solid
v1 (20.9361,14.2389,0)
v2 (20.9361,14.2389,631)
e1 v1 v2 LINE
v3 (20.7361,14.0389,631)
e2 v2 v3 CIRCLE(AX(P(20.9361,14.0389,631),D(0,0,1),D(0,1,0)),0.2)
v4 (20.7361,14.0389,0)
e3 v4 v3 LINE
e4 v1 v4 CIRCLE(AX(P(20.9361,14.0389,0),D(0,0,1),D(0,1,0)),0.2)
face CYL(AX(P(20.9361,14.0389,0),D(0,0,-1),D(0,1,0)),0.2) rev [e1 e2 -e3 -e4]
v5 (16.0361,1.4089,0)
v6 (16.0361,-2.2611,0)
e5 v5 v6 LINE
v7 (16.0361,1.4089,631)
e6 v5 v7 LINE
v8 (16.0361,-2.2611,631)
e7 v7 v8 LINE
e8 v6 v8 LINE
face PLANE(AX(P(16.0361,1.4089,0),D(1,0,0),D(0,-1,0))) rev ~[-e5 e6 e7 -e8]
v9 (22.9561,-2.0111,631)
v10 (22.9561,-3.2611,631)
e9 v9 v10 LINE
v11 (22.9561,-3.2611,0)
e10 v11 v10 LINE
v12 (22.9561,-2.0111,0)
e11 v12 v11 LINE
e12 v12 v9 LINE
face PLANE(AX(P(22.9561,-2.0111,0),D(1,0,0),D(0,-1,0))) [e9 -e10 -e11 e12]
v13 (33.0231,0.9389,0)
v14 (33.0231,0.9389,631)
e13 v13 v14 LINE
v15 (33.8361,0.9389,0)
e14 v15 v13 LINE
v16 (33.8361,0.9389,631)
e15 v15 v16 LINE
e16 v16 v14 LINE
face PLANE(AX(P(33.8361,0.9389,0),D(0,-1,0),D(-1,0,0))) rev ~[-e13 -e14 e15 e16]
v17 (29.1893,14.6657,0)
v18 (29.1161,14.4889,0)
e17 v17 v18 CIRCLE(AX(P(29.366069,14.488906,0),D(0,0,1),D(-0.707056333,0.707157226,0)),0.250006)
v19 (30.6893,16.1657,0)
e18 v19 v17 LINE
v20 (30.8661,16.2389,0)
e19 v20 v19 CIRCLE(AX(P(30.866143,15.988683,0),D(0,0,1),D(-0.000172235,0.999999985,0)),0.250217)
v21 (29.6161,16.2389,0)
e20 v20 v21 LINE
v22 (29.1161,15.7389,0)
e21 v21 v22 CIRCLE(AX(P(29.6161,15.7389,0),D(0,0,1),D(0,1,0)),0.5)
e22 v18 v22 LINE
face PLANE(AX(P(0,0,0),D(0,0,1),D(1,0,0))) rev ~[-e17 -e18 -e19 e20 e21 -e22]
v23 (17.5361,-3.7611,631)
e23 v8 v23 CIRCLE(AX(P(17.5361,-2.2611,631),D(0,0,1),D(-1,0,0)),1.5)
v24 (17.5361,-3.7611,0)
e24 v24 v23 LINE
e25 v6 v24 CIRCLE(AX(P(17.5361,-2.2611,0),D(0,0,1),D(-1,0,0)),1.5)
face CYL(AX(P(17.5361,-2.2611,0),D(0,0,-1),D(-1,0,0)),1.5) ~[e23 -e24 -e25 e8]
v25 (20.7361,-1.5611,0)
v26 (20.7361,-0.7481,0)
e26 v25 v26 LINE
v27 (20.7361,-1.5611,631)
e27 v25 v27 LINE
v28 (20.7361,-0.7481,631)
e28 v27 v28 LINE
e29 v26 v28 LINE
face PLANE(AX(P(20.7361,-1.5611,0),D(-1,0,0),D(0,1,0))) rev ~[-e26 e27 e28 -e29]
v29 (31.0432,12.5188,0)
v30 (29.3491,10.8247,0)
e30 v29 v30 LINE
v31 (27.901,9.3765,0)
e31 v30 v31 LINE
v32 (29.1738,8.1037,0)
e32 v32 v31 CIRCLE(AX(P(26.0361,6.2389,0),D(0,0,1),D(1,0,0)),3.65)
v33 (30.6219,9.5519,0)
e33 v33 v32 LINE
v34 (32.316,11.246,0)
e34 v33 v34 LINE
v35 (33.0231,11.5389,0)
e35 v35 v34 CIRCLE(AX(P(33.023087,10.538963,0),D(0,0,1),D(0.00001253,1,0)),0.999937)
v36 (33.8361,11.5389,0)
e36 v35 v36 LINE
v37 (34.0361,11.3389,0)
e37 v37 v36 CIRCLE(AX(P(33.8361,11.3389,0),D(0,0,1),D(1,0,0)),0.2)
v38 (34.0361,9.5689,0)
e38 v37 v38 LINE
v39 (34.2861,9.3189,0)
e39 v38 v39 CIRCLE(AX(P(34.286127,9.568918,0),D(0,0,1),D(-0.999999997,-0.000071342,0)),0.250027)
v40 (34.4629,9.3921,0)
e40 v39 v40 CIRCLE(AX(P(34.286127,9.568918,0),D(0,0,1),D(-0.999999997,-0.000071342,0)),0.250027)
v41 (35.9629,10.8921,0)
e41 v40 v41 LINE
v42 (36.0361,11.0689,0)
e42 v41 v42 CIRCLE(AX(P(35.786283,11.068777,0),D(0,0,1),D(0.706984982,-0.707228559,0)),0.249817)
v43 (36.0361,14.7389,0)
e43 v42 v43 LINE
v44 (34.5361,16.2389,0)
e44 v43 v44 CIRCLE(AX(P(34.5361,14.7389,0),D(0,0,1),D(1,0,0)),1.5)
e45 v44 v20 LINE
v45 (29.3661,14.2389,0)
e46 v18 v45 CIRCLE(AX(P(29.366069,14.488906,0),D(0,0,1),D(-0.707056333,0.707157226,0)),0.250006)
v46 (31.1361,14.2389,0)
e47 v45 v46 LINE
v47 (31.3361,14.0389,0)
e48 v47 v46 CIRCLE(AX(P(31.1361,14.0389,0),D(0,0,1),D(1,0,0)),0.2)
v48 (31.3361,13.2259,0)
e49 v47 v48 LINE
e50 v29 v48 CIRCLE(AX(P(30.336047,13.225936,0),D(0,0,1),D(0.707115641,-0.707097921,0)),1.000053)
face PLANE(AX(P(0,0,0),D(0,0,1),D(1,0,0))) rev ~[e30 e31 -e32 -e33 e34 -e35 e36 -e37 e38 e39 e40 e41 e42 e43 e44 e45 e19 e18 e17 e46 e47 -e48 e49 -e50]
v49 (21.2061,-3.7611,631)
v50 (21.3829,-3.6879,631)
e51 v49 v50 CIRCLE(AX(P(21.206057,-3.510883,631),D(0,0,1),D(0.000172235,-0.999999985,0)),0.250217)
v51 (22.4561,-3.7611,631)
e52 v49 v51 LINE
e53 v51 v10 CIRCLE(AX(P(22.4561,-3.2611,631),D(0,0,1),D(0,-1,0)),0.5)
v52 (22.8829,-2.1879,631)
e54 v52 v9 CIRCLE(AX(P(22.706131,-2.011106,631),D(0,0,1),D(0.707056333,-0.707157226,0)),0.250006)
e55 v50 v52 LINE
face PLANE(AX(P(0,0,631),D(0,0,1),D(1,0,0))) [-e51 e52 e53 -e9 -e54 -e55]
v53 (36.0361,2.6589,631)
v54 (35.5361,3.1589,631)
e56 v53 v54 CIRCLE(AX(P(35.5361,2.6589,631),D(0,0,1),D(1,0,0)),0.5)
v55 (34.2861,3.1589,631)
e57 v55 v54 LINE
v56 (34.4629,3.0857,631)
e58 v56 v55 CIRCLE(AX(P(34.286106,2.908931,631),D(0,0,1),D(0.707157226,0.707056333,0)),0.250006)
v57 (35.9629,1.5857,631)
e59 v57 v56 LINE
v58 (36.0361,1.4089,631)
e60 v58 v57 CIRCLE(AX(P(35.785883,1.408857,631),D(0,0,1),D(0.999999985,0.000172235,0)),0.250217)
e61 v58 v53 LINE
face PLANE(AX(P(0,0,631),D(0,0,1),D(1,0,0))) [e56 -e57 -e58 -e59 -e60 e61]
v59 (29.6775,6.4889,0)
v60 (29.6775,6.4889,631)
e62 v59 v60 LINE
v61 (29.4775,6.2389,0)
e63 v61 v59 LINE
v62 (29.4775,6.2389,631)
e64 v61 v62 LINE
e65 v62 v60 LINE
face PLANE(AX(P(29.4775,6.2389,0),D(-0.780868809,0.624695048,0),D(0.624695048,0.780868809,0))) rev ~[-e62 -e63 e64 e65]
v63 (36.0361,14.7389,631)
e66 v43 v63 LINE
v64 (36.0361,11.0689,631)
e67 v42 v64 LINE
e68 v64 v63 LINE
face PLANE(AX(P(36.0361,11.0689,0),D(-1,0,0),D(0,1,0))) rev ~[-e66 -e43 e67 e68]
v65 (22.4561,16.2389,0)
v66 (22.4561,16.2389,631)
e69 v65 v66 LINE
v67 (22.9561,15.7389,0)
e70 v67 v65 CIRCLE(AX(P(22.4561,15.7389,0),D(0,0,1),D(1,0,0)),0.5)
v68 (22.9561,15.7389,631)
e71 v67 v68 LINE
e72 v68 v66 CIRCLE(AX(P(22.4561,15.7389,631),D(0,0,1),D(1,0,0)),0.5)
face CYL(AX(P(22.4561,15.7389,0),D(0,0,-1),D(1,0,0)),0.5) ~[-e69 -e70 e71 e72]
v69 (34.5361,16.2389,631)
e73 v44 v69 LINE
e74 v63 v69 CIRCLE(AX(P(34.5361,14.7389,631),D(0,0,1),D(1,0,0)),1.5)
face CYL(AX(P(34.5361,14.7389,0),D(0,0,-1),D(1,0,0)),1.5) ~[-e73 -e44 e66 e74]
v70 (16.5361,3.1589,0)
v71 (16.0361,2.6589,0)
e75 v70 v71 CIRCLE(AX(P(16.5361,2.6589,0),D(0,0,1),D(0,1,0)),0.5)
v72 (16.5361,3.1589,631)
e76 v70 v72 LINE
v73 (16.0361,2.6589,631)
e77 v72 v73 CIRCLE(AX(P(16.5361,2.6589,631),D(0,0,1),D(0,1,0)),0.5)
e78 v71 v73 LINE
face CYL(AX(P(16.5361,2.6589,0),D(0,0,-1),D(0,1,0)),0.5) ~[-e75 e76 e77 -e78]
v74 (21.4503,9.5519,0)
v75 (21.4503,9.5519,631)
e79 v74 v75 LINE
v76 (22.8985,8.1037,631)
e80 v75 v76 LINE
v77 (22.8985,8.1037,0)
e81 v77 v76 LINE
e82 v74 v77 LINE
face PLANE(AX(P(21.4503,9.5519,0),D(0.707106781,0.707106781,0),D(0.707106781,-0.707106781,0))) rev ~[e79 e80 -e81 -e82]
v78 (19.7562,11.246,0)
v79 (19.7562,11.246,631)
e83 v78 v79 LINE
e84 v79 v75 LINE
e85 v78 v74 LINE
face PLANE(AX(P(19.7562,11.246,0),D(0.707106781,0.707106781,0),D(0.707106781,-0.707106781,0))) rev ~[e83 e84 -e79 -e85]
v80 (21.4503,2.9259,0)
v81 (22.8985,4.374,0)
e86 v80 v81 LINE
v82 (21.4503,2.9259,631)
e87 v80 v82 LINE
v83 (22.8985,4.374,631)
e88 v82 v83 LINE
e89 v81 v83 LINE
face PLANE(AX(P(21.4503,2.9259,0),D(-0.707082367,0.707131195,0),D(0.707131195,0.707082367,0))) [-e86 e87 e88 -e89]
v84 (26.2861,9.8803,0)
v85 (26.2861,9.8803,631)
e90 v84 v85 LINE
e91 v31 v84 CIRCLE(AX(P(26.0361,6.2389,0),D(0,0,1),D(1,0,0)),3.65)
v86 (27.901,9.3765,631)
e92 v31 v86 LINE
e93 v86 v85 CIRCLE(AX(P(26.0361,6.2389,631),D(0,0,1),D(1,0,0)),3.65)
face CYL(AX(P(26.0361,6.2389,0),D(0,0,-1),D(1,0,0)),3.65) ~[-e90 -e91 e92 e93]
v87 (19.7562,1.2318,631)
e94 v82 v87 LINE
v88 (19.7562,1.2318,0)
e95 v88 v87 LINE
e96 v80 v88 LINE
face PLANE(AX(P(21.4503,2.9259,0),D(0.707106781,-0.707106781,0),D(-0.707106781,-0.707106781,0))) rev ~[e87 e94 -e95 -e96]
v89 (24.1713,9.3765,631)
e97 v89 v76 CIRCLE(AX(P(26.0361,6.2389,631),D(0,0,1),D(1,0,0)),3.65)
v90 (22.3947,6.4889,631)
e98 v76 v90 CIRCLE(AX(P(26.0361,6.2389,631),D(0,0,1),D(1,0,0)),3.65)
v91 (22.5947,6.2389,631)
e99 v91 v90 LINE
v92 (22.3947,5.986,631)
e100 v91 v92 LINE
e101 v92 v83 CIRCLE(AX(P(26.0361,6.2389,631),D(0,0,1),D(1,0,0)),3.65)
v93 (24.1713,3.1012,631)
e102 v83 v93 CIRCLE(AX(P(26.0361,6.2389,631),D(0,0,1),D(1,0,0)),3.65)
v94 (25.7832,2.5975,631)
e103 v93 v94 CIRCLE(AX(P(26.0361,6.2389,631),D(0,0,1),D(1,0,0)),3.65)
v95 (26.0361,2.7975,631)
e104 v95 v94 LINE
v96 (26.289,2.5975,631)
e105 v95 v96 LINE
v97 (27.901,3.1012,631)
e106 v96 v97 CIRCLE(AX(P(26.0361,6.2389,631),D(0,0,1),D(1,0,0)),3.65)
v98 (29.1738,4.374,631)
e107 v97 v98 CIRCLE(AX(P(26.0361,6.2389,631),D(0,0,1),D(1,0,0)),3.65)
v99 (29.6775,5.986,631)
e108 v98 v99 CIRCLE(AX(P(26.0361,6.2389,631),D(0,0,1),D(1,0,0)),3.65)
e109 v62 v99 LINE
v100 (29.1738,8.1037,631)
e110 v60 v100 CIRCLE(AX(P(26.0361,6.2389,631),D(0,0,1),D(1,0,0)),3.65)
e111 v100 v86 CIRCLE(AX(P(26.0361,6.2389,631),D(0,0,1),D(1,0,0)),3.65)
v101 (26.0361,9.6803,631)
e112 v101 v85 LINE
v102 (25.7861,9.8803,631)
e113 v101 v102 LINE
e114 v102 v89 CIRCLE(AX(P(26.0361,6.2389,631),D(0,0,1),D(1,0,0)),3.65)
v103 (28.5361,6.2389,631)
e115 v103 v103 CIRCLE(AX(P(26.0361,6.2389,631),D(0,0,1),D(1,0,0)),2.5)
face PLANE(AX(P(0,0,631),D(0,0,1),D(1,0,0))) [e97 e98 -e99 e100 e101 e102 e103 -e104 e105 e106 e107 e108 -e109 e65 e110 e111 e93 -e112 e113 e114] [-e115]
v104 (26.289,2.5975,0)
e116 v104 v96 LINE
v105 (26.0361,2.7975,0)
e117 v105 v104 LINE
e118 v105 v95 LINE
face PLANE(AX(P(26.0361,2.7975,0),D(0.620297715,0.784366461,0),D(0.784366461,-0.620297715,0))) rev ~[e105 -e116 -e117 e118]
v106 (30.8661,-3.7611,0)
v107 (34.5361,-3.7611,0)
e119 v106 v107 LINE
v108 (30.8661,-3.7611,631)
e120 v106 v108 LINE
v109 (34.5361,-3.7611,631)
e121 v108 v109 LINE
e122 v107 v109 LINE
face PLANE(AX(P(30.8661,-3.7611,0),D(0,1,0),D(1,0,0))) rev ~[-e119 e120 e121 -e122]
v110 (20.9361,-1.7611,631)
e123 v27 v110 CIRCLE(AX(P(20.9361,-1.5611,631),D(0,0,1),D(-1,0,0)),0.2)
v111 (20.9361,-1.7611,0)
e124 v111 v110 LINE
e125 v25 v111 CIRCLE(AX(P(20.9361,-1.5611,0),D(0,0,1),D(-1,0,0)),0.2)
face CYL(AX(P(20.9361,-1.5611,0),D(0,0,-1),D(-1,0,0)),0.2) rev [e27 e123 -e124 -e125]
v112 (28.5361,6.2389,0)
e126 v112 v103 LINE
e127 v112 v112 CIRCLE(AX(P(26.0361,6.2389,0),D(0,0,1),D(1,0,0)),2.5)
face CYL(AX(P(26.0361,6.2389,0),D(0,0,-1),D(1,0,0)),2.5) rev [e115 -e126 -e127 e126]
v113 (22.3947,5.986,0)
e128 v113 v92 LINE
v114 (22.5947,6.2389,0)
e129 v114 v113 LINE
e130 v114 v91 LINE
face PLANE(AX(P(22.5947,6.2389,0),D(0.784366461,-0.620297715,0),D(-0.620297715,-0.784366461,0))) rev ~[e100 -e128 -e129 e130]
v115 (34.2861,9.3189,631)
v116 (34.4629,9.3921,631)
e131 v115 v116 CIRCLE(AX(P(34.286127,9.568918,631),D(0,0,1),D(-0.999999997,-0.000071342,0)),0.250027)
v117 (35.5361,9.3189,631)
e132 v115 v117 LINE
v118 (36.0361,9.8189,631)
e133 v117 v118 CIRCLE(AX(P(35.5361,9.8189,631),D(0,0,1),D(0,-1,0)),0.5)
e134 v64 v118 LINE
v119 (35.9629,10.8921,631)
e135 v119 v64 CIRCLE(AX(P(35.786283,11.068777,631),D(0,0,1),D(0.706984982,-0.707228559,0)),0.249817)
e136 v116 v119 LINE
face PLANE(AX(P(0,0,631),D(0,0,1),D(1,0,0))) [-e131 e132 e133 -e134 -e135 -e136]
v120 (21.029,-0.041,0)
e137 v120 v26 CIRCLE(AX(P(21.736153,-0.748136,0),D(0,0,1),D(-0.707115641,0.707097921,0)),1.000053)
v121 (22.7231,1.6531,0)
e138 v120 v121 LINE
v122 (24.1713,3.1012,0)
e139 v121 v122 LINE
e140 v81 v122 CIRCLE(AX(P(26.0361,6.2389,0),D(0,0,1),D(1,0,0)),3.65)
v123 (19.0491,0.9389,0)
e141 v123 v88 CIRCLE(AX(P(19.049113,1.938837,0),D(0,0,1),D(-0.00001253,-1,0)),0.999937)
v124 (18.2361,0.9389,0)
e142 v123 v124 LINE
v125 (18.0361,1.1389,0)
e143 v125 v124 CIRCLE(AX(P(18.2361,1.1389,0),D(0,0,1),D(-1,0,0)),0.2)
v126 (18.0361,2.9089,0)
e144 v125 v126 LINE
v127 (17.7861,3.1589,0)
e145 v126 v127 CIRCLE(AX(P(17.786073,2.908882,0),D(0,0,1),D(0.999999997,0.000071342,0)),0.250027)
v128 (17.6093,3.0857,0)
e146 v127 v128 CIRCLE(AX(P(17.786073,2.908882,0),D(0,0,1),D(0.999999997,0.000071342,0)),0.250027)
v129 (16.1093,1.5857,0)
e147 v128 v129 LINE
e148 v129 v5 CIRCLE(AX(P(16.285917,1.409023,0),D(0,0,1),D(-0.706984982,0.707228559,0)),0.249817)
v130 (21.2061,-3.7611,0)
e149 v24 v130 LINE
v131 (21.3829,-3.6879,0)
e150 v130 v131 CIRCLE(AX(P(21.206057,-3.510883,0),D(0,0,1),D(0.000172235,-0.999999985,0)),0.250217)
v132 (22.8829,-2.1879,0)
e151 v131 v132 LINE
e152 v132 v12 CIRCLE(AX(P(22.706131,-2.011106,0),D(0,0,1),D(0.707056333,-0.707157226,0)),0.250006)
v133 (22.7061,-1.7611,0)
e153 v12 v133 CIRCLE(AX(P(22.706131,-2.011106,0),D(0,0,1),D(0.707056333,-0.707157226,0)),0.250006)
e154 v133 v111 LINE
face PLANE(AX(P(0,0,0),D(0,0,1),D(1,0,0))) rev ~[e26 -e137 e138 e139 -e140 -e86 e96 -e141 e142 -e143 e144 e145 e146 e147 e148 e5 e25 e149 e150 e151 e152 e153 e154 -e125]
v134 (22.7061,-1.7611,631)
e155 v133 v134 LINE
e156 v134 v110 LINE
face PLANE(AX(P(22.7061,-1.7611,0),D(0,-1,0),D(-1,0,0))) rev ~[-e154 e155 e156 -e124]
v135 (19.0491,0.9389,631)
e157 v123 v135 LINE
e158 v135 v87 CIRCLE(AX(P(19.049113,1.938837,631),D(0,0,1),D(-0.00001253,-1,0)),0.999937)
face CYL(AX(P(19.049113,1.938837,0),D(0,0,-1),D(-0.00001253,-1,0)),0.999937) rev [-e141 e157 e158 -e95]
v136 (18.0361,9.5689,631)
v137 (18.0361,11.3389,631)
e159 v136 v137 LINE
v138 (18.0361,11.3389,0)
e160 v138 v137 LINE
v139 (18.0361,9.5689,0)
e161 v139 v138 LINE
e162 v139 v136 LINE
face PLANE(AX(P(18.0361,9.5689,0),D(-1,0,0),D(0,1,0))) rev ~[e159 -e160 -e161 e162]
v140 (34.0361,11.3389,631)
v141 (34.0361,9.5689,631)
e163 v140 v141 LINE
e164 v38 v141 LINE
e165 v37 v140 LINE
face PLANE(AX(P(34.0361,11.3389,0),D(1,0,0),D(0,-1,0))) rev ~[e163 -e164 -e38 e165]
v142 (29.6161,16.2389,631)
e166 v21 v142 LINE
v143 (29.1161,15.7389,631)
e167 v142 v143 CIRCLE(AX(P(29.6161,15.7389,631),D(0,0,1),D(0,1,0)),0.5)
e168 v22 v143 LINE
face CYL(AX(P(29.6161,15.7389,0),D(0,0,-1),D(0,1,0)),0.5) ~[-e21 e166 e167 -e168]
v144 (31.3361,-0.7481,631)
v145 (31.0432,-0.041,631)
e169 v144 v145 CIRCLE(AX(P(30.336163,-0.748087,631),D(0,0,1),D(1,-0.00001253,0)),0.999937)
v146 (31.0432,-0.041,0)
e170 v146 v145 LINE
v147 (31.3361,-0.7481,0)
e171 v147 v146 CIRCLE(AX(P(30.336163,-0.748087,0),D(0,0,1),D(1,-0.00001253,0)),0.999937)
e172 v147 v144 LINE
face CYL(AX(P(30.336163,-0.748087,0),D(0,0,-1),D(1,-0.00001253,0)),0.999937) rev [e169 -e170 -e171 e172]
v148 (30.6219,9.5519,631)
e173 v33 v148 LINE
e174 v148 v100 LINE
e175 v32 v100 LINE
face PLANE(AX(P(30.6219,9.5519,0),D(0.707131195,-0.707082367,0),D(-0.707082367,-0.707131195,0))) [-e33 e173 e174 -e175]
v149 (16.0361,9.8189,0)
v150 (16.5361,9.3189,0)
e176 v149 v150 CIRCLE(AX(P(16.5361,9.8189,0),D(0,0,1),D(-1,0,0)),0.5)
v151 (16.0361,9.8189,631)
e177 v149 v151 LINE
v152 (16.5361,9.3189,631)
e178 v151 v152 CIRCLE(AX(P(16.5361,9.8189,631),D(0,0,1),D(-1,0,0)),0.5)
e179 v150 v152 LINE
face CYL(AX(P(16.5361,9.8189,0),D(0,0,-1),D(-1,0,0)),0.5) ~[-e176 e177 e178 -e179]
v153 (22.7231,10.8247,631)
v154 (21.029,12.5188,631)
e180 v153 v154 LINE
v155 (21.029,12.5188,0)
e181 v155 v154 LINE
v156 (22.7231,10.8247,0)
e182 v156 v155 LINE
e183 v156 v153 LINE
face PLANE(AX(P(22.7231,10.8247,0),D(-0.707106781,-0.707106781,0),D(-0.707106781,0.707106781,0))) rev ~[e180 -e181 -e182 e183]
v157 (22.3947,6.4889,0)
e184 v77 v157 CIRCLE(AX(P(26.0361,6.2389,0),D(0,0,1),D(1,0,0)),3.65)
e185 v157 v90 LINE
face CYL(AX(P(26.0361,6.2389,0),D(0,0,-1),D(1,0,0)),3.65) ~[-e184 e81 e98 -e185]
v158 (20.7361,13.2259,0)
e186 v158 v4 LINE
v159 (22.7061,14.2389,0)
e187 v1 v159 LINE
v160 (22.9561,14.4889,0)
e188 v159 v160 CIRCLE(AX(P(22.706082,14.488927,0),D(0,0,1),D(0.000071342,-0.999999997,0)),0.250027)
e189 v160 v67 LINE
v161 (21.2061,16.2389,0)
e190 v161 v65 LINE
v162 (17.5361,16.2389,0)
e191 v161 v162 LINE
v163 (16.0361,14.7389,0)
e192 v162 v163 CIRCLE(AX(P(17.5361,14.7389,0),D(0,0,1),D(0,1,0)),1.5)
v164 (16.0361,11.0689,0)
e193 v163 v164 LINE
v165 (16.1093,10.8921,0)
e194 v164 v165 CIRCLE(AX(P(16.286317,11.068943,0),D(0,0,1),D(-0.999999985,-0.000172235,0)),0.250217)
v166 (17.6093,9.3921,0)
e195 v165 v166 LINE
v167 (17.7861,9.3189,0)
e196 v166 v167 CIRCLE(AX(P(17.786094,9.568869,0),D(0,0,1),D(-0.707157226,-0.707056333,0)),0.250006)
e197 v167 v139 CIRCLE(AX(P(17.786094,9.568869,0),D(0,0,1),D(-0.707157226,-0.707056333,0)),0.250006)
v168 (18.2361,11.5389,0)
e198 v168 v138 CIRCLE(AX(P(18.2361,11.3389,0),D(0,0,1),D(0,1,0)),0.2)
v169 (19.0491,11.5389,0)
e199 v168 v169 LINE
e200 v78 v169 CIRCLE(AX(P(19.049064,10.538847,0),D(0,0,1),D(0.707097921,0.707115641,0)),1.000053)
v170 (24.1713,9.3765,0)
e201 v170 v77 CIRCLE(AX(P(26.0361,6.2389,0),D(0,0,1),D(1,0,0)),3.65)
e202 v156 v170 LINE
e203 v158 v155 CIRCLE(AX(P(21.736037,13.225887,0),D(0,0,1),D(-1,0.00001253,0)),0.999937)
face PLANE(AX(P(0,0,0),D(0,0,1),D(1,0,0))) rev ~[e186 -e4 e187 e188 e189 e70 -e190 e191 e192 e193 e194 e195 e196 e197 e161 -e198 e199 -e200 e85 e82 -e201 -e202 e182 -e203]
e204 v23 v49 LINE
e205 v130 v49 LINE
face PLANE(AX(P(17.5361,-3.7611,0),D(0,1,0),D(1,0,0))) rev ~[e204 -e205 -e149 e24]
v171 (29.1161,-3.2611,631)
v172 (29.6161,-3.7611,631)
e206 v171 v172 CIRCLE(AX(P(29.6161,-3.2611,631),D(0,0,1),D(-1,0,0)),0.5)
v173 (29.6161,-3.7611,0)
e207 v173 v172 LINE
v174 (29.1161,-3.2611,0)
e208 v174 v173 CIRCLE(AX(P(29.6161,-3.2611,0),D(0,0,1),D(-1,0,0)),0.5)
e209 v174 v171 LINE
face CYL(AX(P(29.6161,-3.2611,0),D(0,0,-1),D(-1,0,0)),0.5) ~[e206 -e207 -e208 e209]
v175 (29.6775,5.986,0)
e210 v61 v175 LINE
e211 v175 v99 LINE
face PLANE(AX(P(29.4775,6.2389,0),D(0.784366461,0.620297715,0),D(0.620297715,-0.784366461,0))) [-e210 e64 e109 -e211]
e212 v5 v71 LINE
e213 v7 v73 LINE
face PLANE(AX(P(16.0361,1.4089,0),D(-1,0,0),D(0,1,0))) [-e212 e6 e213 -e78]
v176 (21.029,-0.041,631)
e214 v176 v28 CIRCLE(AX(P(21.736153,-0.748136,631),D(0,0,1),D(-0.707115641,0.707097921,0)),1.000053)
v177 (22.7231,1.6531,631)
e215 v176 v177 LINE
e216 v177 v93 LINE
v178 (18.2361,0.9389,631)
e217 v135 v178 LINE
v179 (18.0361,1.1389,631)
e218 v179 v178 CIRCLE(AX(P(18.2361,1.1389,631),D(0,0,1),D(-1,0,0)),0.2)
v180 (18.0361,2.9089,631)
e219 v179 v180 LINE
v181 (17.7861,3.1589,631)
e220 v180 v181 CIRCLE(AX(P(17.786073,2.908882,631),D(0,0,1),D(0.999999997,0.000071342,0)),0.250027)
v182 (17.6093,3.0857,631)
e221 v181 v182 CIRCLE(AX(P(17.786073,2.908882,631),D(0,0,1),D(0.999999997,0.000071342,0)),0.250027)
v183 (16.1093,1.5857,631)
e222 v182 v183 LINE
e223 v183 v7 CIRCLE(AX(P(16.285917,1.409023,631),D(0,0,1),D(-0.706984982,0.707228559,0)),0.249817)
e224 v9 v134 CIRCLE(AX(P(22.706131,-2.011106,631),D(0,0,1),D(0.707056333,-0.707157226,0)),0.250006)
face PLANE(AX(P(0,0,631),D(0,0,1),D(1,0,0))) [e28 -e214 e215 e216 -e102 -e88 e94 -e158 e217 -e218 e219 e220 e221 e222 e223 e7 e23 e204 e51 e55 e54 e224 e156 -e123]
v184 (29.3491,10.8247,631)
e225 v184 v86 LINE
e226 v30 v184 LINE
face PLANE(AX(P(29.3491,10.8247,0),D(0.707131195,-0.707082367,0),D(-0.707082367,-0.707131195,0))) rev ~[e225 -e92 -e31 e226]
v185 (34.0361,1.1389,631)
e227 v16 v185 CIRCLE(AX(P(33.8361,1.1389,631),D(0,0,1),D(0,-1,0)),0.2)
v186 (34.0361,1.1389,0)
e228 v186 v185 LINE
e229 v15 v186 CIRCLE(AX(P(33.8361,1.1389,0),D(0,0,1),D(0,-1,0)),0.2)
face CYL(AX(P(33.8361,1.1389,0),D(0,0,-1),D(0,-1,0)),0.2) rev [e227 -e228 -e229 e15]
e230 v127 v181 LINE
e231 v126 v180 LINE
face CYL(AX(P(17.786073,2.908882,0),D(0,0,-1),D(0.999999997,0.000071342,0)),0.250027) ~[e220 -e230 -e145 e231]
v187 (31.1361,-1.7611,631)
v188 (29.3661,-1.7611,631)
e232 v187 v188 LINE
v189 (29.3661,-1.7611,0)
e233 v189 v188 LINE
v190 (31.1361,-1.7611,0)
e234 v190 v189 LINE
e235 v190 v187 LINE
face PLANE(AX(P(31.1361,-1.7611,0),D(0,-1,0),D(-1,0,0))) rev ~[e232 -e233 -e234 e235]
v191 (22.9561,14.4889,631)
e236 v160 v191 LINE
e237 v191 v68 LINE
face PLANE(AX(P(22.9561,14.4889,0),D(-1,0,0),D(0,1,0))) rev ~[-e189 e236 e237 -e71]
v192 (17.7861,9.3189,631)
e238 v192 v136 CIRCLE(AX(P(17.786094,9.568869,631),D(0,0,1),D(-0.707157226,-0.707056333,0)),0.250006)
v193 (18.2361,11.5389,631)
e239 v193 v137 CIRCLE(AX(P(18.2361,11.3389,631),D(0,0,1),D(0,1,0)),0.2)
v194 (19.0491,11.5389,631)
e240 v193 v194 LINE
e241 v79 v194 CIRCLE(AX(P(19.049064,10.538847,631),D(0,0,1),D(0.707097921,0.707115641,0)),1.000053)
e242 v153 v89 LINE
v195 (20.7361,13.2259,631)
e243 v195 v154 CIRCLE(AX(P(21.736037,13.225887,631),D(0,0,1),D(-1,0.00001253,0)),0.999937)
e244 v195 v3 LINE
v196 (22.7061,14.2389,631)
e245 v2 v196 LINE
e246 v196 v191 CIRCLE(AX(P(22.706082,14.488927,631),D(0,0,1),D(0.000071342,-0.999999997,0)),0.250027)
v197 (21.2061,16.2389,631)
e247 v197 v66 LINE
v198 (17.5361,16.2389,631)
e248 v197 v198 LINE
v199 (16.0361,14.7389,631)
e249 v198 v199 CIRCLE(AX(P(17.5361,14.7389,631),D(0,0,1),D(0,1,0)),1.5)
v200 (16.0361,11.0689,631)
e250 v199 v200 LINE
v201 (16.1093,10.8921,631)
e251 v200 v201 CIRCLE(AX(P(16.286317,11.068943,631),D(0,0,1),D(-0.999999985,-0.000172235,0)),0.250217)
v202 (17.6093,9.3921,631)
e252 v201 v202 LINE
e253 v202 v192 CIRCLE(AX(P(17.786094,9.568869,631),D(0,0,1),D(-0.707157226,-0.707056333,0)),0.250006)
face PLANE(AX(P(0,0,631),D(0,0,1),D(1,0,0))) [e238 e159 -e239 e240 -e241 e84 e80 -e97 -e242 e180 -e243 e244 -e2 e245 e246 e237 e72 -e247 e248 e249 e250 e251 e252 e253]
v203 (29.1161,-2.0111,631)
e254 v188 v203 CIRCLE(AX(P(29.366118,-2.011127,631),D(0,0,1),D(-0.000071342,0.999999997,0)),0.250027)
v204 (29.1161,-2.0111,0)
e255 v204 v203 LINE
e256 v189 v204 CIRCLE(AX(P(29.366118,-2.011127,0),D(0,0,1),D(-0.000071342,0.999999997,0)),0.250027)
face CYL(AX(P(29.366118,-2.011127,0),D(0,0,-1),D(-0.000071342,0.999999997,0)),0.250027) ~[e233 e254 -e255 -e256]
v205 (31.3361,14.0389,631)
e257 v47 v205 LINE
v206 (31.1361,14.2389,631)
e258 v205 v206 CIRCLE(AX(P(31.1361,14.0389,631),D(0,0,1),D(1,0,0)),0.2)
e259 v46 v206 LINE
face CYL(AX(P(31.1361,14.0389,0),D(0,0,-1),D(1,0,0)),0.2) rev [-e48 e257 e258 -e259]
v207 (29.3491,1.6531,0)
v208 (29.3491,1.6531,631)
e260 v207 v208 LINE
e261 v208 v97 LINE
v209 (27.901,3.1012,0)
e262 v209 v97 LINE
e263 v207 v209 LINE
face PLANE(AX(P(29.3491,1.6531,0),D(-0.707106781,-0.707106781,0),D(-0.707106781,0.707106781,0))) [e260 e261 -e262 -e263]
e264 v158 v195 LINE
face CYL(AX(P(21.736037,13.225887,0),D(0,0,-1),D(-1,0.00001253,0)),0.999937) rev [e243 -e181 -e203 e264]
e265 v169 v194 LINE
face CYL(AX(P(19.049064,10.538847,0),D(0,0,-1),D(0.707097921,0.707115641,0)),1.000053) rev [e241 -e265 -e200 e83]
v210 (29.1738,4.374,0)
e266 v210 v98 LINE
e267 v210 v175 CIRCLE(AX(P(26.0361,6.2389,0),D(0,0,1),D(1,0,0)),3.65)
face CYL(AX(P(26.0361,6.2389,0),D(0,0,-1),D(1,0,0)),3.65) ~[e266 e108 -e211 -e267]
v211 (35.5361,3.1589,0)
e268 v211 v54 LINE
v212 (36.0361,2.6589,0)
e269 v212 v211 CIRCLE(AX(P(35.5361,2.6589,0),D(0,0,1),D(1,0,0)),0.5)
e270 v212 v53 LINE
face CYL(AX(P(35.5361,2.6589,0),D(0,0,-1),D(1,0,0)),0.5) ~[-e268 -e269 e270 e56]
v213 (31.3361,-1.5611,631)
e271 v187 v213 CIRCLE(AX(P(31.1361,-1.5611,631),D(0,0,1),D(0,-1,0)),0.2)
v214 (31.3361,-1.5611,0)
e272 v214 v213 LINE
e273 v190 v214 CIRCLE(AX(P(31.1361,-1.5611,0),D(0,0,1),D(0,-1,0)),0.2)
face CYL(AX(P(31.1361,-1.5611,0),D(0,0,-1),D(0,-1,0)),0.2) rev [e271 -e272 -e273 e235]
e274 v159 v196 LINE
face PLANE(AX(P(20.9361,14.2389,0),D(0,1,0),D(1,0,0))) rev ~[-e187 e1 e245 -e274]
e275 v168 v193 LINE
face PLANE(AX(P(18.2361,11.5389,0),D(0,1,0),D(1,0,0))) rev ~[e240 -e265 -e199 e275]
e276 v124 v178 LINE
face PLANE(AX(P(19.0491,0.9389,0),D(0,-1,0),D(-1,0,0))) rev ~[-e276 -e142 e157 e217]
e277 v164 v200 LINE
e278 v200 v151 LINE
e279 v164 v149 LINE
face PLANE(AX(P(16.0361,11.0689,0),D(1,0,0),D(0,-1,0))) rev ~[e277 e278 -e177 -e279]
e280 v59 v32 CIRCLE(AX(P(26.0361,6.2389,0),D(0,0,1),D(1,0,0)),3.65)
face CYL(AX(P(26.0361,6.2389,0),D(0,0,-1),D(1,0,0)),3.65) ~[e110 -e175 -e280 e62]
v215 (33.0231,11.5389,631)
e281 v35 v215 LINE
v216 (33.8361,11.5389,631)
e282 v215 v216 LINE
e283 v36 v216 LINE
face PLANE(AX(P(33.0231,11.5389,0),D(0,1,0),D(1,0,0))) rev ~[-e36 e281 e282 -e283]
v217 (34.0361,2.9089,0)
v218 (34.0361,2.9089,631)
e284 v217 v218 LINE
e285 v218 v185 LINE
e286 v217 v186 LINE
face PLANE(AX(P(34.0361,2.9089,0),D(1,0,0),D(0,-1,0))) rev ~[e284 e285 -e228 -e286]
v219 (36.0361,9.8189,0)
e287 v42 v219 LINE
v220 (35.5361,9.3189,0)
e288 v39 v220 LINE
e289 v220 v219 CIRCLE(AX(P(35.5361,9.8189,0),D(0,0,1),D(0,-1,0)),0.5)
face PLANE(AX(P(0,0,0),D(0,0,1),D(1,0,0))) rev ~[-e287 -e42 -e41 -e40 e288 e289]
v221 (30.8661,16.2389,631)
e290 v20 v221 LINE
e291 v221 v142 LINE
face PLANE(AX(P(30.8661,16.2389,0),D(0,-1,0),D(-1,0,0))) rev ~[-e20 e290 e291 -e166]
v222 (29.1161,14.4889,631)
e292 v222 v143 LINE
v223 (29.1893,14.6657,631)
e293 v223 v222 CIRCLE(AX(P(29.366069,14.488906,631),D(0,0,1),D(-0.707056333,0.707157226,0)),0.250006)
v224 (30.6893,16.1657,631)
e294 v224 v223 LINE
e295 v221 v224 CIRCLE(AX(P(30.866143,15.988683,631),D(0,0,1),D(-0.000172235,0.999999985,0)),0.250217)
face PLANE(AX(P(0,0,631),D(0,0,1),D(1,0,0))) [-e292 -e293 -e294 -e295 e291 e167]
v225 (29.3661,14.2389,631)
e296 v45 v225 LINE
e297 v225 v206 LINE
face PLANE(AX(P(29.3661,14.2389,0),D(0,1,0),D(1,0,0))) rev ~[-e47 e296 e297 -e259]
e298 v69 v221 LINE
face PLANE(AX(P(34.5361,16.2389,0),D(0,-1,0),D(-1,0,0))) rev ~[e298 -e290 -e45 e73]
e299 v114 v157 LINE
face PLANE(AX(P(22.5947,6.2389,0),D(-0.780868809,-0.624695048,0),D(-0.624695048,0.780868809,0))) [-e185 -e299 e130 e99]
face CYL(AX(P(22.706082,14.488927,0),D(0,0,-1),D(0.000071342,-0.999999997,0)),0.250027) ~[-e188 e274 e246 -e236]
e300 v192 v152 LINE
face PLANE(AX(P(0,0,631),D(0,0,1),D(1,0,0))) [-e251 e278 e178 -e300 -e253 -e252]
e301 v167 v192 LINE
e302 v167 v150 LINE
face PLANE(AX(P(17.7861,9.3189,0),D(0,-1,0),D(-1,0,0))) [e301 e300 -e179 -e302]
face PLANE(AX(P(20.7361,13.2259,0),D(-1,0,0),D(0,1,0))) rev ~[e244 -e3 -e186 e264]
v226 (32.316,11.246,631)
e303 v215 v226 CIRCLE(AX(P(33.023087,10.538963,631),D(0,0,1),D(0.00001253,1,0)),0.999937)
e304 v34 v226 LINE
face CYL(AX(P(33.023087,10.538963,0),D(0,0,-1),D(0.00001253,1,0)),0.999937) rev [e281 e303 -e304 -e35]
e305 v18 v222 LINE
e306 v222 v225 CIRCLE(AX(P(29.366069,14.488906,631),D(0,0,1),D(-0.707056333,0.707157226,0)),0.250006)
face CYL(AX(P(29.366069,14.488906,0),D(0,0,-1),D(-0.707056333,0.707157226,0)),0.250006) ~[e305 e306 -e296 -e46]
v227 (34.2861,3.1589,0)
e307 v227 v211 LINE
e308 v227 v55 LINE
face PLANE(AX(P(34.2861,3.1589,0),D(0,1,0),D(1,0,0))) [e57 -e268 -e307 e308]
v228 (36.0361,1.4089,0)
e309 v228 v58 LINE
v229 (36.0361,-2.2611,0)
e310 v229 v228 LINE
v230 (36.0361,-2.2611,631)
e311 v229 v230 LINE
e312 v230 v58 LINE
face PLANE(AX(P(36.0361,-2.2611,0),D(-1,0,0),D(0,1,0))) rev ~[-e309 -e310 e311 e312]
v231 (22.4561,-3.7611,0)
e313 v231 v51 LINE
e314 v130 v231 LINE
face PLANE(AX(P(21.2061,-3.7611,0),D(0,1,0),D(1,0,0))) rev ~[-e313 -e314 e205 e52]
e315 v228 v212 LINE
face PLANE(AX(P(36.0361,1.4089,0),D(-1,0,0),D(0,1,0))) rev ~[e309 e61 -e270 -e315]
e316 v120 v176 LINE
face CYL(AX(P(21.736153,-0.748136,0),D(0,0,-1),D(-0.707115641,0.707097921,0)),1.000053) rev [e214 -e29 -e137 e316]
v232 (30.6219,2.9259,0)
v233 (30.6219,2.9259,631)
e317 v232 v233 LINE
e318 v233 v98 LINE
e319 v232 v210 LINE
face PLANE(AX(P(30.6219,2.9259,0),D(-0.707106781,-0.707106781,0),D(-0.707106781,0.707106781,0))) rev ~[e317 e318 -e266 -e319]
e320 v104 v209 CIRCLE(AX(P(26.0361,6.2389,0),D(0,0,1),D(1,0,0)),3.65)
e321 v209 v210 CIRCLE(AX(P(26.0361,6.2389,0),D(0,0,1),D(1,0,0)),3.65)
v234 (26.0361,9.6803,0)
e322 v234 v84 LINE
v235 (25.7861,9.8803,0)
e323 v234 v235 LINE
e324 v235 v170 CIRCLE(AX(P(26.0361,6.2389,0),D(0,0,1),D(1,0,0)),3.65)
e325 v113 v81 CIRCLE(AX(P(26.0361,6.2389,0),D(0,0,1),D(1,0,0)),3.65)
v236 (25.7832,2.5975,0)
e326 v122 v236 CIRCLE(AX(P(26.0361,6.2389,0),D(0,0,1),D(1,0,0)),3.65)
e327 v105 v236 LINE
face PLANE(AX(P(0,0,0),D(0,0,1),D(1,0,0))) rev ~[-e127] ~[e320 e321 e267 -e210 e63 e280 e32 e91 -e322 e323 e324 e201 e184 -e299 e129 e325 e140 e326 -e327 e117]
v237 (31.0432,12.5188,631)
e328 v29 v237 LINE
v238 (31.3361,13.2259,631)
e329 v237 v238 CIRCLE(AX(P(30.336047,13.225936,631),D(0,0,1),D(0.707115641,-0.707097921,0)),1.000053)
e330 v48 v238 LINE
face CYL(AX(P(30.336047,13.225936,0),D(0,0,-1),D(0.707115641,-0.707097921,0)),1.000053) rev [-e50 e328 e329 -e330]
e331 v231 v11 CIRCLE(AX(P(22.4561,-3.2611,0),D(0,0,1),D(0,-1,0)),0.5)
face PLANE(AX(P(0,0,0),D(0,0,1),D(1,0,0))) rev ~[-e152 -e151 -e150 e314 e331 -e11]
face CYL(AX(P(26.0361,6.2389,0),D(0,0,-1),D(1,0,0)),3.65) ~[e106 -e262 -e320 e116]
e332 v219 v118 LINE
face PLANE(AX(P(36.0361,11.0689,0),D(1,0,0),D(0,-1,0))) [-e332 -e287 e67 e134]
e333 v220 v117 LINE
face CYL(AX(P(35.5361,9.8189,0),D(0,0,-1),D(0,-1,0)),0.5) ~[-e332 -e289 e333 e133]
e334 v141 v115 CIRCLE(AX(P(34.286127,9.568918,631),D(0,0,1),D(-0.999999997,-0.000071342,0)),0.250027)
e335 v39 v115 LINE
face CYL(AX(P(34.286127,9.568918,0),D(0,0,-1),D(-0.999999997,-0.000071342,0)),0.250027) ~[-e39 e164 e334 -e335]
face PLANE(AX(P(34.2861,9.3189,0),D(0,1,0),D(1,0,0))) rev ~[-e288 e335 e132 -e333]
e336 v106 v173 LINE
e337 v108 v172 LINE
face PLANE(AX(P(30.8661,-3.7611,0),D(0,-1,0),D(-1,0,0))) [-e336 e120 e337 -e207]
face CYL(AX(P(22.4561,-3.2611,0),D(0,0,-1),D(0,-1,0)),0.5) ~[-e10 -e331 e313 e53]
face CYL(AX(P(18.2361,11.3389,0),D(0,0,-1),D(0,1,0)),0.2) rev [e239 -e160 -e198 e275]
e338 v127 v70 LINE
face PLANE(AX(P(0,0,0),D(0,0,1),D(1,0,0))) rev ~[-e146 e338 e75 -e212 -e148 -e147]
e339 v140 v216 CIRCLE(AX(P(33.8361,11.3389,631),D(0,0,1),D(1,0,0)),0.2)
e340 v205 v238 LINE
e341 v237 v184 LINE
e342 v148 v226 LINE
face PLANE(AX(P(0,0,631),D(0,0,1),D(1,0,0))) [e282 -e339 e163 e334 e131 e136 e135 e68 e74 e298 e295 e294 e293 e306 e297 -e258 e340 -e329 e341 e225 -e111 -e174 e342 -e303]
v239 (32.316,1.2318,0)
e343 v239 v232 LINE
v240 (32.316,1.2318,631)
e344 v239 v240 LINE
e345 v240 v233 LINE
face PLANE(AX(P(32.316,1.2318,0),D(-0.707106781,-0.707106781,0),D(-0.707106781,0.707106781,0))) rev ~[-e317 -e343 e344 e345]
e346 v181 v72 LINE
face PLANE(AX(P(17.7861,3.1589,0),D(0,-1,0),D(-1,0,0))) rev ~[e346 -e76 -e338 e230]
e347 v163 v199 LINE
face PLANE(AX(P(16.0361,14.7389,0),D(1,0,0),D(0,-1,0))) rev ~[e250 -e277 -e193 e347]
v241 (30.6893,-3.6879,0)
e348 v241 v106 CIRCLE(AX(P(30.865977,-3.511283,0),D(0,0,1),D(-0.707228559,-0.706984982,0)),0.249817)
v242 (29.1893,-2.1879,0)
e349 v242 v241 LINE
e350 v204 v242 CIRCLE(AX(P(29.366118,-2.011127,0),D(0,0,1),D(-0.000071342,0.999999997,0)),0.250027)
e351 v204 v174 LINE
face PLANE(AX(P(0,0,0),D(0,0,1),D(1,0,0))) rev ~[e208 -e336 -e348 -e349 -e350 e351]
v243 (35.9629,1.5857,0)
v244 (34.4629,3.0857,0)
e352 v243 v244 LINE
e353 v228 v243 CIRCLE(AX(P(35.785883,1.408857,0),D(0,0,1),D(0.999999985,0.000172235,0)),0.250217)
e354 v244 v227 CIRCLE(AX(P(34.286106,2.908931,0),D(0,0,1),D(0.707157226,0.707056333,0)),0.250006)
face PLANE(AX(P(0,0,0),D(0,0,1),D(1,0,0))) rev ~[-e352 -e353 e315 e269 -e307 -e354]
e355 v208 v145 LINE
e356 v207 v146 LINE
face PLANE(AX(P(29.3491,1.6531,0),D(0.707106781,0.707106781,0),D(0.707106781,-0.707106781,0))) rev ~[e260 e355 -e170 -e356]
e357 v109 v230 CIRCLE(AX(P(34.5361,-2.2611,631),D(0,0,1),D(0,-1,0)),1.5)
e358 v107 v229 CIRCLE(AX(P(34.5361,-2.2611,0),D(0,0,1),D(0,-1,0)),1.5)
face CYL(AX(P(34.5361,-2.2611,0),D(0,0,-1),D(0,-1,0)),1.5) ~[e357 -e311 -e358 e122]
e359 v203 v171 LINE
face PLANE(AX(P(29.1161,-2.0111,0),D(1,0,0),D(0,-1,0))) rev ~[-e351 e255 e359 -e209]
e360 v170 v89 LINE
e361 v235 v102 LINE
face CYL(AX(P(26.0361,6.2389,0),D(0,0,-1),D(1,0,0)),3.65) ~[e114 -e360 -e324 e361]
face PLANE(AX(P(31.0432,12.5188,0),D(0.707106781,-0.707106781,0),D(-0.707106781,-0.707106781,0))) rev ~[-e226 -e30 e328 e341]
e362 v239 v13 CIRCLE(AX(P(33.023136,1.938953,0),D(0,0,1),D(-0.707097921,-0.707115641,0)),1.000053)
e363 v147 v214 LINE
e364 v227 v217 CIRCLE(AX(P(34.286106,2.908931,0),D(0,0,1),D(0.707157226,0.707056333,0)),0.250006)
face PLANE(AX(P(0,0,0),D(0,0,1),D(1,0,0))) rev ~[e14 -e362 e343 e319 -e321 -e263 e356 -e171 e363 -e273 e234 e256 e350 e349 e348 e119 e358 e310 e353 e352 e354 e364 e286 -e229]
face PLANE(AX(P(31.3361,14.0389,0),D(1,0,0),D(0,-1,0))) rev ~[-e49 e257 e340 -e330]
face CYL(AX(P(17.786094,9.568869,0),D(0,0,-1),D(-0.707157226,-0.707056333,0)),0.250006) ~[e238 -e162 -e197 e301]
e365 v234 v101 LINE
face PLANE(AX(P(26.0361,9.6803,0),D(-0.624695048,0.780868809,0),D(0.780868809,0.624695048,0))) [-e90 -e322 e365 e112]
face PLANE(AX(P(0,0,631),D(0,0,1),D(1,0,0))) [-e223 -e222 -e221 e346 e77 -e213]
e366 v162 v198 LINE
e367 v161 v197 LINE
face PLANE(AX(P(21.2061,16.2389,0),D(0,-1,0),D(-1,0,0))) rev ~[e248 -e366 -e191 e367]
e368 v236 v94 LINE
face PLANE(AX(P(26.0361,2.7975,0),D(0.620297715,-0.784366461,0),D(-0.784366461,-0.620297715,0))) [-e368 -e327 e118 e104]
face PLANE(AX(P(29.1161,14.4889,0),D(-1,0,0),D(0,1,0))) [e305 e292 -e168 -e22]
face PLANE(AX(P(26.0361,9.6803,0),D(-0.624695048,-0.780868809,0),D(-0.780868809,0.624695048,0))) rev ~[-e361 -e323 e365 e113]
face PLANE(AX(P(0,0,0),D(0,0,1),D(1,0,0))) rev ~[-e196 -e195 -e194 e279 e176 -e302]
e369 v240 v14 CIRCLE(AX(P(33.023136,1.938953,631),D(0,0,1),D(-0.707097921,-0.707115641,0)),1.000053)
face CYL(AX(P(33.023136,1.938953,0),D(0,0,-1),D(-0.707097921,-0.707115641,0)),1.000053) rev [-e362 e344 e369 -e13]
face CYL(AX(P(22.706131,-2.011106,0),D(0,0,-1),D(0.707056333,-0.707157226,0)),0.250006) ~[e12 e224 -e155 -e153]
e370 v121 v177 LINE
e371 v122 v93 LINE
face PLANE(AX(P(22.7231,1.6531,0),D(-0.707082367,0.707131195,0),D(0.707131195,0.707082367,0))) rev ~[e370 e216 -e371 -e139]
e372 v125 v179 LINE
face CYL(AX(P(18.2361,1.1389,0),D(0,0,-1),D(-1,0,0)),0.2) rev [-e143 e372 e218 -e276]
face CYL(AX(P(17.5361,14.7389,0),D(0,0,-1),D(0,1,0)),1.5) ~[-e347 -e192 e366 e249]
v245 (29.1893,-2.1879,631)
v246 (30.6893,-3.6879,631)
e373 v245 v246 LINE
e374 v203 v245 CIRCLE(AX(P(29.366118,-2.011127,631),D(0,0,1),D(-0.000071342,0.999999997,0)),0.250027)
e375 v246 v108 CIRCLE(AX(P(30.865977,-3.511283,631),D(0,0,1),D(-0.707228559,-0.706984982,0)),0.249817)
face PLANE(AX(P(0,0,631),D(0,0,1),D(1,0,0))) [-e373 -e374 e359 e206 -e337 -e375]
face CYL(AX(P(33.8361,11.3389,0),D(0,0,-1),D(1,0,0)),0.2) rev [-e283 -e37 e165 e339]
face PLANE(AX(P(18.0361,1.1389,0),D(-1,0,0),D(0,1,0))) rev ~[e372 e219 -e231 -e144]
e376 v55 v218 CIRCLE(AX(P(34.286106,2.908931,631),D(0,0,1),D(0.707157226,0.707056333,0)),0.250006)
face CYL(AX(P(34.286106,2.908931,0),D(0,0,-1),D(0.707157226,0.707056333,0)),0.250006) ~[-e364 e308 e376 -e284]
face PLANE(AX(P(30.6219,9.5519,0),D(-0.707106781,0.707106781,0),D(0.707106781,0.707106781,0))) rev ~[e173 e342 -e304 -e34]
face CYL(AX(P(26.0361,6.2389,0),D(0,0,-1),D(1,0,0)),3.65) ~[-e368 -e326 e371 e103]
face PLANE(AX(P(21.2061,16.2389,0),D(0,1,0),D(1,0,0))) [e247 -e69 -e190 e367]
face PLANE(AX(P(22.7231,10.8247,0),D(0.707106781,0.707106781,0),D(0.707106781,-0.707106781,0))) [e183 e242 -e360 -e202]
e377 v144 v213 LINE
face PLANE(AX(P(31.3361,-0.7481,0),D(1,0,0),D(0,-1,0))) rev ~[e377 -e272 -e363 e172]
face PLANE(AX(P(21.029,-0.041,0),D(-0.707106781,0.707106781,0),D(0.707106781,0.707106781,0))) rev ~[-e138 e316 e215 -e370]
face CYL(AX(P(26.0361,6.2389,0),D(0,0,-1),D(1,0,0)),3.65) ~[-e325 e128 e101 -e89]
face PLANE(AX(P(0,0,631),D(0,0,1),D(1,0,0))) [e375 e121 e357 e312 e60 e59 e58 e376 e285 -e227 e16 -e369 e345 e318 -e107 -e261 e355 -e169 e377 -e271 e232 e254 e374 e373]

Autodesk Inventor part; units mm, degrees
ref_plane "YZ Plane" through (0, 0, 0) normal (1, 0, 0) x (0, 1, 0)
ref_plane "XZ Plane" through (0, 0, 0) normal (0, 1, 0) x (-1, 0, 0)
ref_plane "XY Plane" through (0, 0, 0) normal (0, 0, 1) x (1, 0, 0)
sketch "Sketch1" plane through (0, 0, 0) normal (0, 0, 1) x (1, 0, 0)
  line L0 (21.2061, 16.2389) -> (17.5361, 16.2389) projected
  arc A0 (17.5361, 16.2389) -> (16.0361, 14.7389) centre (17.5361, 14.7389) ccw projected
  line L1 (16.0361, 14.7389) -> (16.0361, 11.0689) projected
  arc A1 (17.6093, 9.3921) -> (18.0361, 9.5689) centre (17.7861, 9.5689) ccw projected
  line L2 (18.0361, 9.5689) -> (18.0361, 11.3389) projected
  arc A2 (22.0361, 8.1377) -> (21.4503, 9.5519) centre (20.0361, 8.1377) ccw projected
  line L3 (22.0361, 8.1377) -> (22.0361, 6.5766) projected
  arc A3 (22.0361, 6.5766) -> (22.0909, 6.4204) centre (22.2861, 6.5766) ccw projected
  line L4 (22.0909, 6.4204) -> (22.2361, 6.2389) projected
  line L5 (22.2361, 6.2389) -> (22.0909, 6.0574) projected
  arc A4 (22.0909, 6.0574) -> (22.0361, 5.9012) centre (22.2861, 5.9012) ccw projected
  line L6 (22.0361, 5.9012) -> (22.0361, 4.3401) projected
  arc A5 (21.4503, 2.9259) -> (22.0361, 4.3401) centre (20.0361, 4.3401) ccw projected
  line L7 (21.4503, 2.9259) -> (19.7562, 1.2318) projected
  arc A6 (19.0491, 0.9389) -> (19.7562, 1.2318) centre (19.0491, 1.9389) ccw projected
  line L8 (19.0491, 0.9389) -> (18.2361, 0.9389) projected
  arc A7 (18.0361, 1.1389) -> (18.2361, 0.9389) centre (18.2361, 1.1389) ccw projected
  line L9 (18.0361, 1.1389) -> (18.0361, 2.9089) projected
  arc A8 (18.0361, 2.9089) -> (17.6093, 3.0857) centre (17.7861, 2.9089) ccw projected
  line L10 (17.6093, 3.0857) -> (16.1093, 1.5857) projected
  arc A9 (16.1093, 1.5857) -> (16.0361, 1.4089) centre (16.2861, 1.4089) ccw projected
  line L11 (16.0361, 1.4089) -> (16.0361, -2.2611) projected
  arc A10 (16.0361, -2.2611) -> (17.5361, -3.7611) centre (17.5361, -2.2611) ccw projected
  line L12 (17.5361, -3.7611) -> (21.2061, -3.7611) projected
  arc A11 (21.2061, -3.7611) -> (21.3829, -3.6879) centre (21.2061, -3.5111) ccw projected
  line L13 (21.3829, -3.6879) -> (22.8829, -2.1879) projected
  arc A12 (22.8829, -2.1879) -> (22.7061, -1.7611) centre (22.7061, -2.0111) ccw projected
  line L14 (22.7061, -1.7611) -> (20.9361, -1.7611) projected
  arc A13 (20.7361, -1.5611) -> (20.9361, -1.7611) centre (20.9361, -1.5611) ccw projected
  line L15 (20.7361, -1.5611) -> (20.7361, -0.7481) projected
  arc A14 (21.029, -0.041) -> (20.7361, -0.7481) centre (21.7361, -0.7481) ccw projected
  line L16 (21.029, -0.041) -> (22.7231, 1.6531) projected
  arc A15 (24.1373, 2.2389) -> (22.7231, 1.6531) centre (24.1373, 0.2389) ccw projected
  line L17 (24.1373, 2.2389) -> (25.6984, 2.2389) projected
  arc A16 (25.6984, 2.2389) -> (25.8546, 2.2937) centre (25.6984, 2.4889) ccw projected
  line L18 (25.8546, 2.2937) -> (26.0361, 2.4389) projected
  line L19 (26.0361, 2.4389) -> (26.2176, 2.2937) projected
  arc A17 (26.2176, 2.2937) -> (26.3738, 2.2389) centre (26.3738, 2.4889) ccw projected
  line L20 (26.3738, 2.2389) -> (27.9349, 2.2389) projected
  arc A18 (29.3491, 1.6531) -> (27.9349, 2.2389) centre (27.9349, 0.2389) ccw projected
  line L21 (29.3491, 1.6531) -> (31.0432, -0.041) projected
  arc A19 (31.3361, -0.7481) -> (31.0432, -0.041) centre (30.3361, -0.7481) ccw projected
  line L22 (31.3361, -0.7481) -> (31.3361, -1.5611) projected
  arc A20 (31.1361, -1.7611) -> (31.3361, -1.5611) centre (31.1361, -1.5611) ccw projected
  line L23 (31.1361, -1.7611) -> (29.3661, -1.7611) projected
  arc A21 (29.3661, -1.7611) -> (29.1893, -2.1879) centre (29.3661, -2.0111) ccw projected
  line L24 (29.1893, -2.1879) -> (30.6893, -3.6879) projected
  arc A22 (30.6893, -3.6879) -> (30.8661, -3.7611) centre (30.8661, -3.5111) ccw projected
  line L25 (30.8661, -3.7611) -> (34.5361, -3.7611) projected
  arc A23 (34.5361, -3.7611) -> (36.0361, -2.2611) centre (34.5361, -2.2611) ccw projected
  line L26 (36.0361, -2.2611) -> (36.0361, 1.4089) projected
  arc A24 (36.0361, 1.4089) -> (35.9629, 1.5857) centre (35.7861, 1.4089) ccw projected
  line L27 (35.9629, 1.5857) -> (34.4629, 3.0857) projected
  arc A25 (34.4629, 3.0857) -> (34.0361, 2.9089) centre (34.2861, 2.9089) ccw projected
  line L28 (34.0361, 2.9089) -> (34.0361, 1.1389) projected
  arc A26 (33.8361, 0.9389) -> (34.0361, 1.1389) centre (33.8361, 1.1389) ccw projected
  line L29 (33.8361, 0.9389) -> (33.0231, 0.9389) projected
  arc A27 (32.316, 1.2318) -> (33.0231, 0.9389) centre (33.0231, 1.9389) ccw projected
  line L30 (32.316, 1.2318) -> (30.6219, 2.9259) projected
  arc A28 (30.0361, 4.3401) -> (30.6219, 2.9259) centre (32.0361, 4.3401) ccw projected
  line L31 (30.0361, 4.3401) -> (30.0361, 5.9012) projected
  arc A29 (30.0361, 5.9012) -> (29.9813, 6.0574) centre (29.7861, 5.9012) ccw projected
  line L32 (29.9813, 6.0574) -> (29.8361, 6.2389) projected
  line L33 (29.8361, 6.2389) -> (29.9813, 6.4204) projected
  arc A30 (29.9813, 6.4204) -> (30.0361, 6.5766) centre (29.7861, 6.5766) ccw projected
  line L34 (30.0361, 6.5766) -> (30.0361, 8.1377) projected
  arc A31 (30.6219, 9.5519) -> (30.0361, 8.1377) centre (32.0361, 8.1377) ccw projected
  line L35 (30.6219, 9.5519) -> (32.316, 11.246) projected
  arc A32 (33.0231, 11.5389) -> (32.316, 11.246) centre (33.0231, 10.5389) ccw projected
  line L36 (33.0231, 11.5389) -> (33.8361, 11.5389) projected
  arc A33 (34.0361, 11.3389) -> (33.8361, 11.5389) centre (33.8361, 11.3389) ccw projected
  line L37 (34.0361, 11.3389) -> (34.0361, 9.5689) projected
  arc A34 (34.0361, 9.5689) -> (34.4629, 9.3921) centre (34.2861, 9.5689) ccw projected
  line L38 (34.4629, 9.3921) -> (35.9629, 10.8921) projected
  arc A35 (35.9629, 10.8921) -> (36.0361, 11.0689) centre (35.7861, 11.0689) ccw projected
  line L39 (36.0361, 11.0689) -> (36.0361, 14.7389) projected
  arc A36 (36.0361, 14.7389) -> (34.5361, 16.2389) centre (34.5361, 14.7389) ccw projected
  line L40 (34.5361, 16.2389) -> (30.8661, 16.2389) projected
  arc A37 (30.8661, 16.2389) -> (30.6893, 16.1657) centre (30.8661, 15.9889) ccw projected
  line L41 (30.6893, 16.1657) -> (29.1893, 14.6657) projected
  arc A38 (29.1893, 14.6657) -> (29.3661, 14.2389) centre (29.3661, 14.4889) ccw projected
  line L42 (29.3661, 14.2389) -> (31.1361, 14.2389) projected
  arc A39 (31.3361, 14.0389) -> (31.1361, 14.2389) centre (31.1361, 14.0389) ccw projected
  line L43 (31.3361, 14.0389) -> (31.3361, 13.2259) projected
  arc A40 (31.0432, 12.5188) -> (31.3361, 13.2259) centre (30.3361, 13.2259) ccw projected
  line L44 (31.0432, 12.5188) -> (29.3491, 10.8247) projected
  arc A41 (27.9349, 10.2389) -> (29.3491, 10.8247) centre (27.9349, 12.2389) ccw projected
  line L45 (27.9349, 10.2389) -> (26.3738, 10.2389) projected
  arc A42 (26.3738, 10.2389) -> (26.2176, 10.1841) centre (26.3738, 9.9889) ccw projected
  line L46 (26.2176, 10.1841) -> (26.0361, 10.0389) projected
  line L47 (26.0361, 10.0389) -> (25.8546, 10.1841) projected
  arc A43 (25.8546, 10.1841) -> (25.6984, 10.2389) centre (25.6984, 9.9889) ccw projected
  line L48 (25.6984, 10.2389) -> (24.1373, 10.2389) projected
  arc A44 (22.7231, 10.8247) -> (24.1373, 10.2389) centre (24.1373, 12.2389) ccw projected
  line L49 (22.7231, 10.8247) -> (21.029, 12.5188) projected
  arc A45 (20.7361, 13.2259) -> (21.029, 12.5188) centre (21.7361, 13.2259) ccw projected
  line L50 (20.7361, 13.2259) -> (20.7361, 14.0389) projected
  arc A46 (20.9361, 14.2389) -> (20.7361, 14.0389) centre (20.9361, 14.0389) ccw projected
  line L51 (20.9361, 14.2389) -> (22.7061, 14.2389) projected
  arc A47 (22.7061, 14.2389) -> (22.8829, 14.6657) centre (22.7061, 14.4889) ccw projected
  arc A48 (21.3829, 16.1657) -> (21.2061, 16.2389) centre (21.2061, 15.9889) ccw projected
  line L52 (21.2061, 16.2389) -> (17.5361, 16.2389) projected
  arc A49 (17.5361, 16.2389) -> (16.0361, 14.7389) centre (17.5361, 14.7389) ccw projected
  line L53 (16.0361, 14.7389) -> (16.0361, 11.0689) projected
  arc A50 (16.0361, 11.0689) -> (16.1093, 10.8921) centre (16.2861, 11.0689) ccw projected
  line L54 (16.1093, 10.8921) -> (17.6093, 9.3921) projected
  arc A51 (17.6093, 9.3921) -> (18.0361, 9.5689) centre (17.7861, 9.5689) ccw projected
  line L55 (18.0361, 9.5689) -> (18.0361, 11.3389) projected
  arc A52 (18.2361, 11.5389) -> (18.0361, 11.3389) centre (18.2361, 11.3389) ccw projected
  line L56 (18.2361, 11.5389) -> (19.0491, 11.5389) projected
  arc A53 (19.7562, 11.246) -> (19.0491, 11.5389) centre (19.0491, 10.5389) ccw projected
  line L57 (19.7562, 11.246) -> (21.4503, 9.5519) projected
  circle A54 centre (26.0361, 6.2389) radius 2.5 projected
  line L58 (19, 6.2389) -> (36.0361, 6.2389) construction
  line L59 (26.0361, 14.1377) -> (26.0361, -0.041) construction
  line L60 (17.5361, 14.7389) -> (26.0361, 6.2389) construction
  circle A55 centre (26.0361, 6.2389) radius 3.65
  line L61 (22.5947, 6.2389) -> (22.3947, 5.986)
  line L62 (22.5947, 6.2389) -> (22.3947, 6.4889)
  line L63 (21.4503, 9.5519) -> (22.8985, 8.1037)
  line L64 (21.4503, 2.9259) -> (22.8985, 4.374)
  line L65 (26.0361, 9.6803) -> (25.7861, 9.8803)
  line L66 (22.7231, 10.8247) -> (24.1713, 9.3765)
  line L67 (26.0361, 6.2389) -> (20.3036, 0.5064) construction
  line L68 (26.0361, 2.7975) -> (25.7832, 2.5975)
  line L69 (22.7231, 1.6531) -> (24.1713, 3.1012)
  line L70 (29.4775, 6.2389) -> (29.6775, 5.986)
  line L71 (29.4775, 6.2389) -> (29.6775, 6.4889)
  line L72 (30.6219, 9.5519) -> (29.1738, 8.1037)
  line L73 (30.6219, 2.9259) -> (29.1738, 4.374)
  line L74 (29.3491, 10.8247) -> (27.901, 9.3765)
  line L75 (26.0361, 9.6803) -> (26.2861, 9.8803)
  line L76 (29.3491, 1.6531) -> (27.901, 3.1012)
  line L77 (26.0361, 2.7975) -> (26.289, 2.5975)
  line L78 (17.7861, 9.3189) -> (16.5361, 9.3189)
  line L79 (16.0361, 11.0689) -> (16.0361, 9.8189)
  arc A56 (16.0361, 9.8189) -> (16.5361, 9.3189) centre (16.5361, 9.8189) ccw
  line L80 (22.9561, 14.4889) -> (22.9561, 15.7389)
  line L81 (21.2061, 16.2389) -> (22.4561, 16.2389)
  arc A57 (22.9561, 15.7389) -> (22.4561, 16.2389) centre (22.4561, 15.7389) ccw
  line L82 (29.1161, 14.4889) -> (29.1161, 15.7389)
  line L83 (30.8661, 16.2389) -> (29.6161, 16.2389)
  arc A58 (29.6161, 16.2389) -> (29.1161, 15.7389) centre (29.6161, 15.7389) ccw
  line L84 (34.2861, 9.3189) -> (35.5361, 9.3189)
  line L85 (36.0361, 11.0689) -> (36.0361, 9.8189)
  arc A59 (35.5361, 9.3189) -> (36.0361, 9.8189) centre (35.5361, 9.8189) ccw
  line L86 (17.7861, 3.1589) -> (16.5361, 3.1589)
  line L87 (16.0361, 1.4089) -> (16.0361, 2.6589)
  arc A60 (16.5361, 3.1589) -> (16.0361, 2.6589) centre (16.5361, 2.6589) ccw
  line L88 (22.9561, -2.0111) -> (22.9561, -3.2611)
  line L89 (21.2061, -3.7611) -> (22.4561, -3.7611)
  arc A61 (22.4561, -3.7611) -> (22.9561, -3.2611) centre (22.4561, -3.2611) ccw
  line L90 (29.1161, -2.0111) -> (29.1161, -3.2611)
  line L91 (30.8661, -3.7611) -> (29.6161, -3.7611)
  arc A62 (29.1161, -3.2611) -> (29.6161, -3.7611) centre (29.6161, -3.2611) ccw
  line L92 (36.0361, 1.4089) -> (36.0361, 2.6589)
  line L93 (34.2861, 3.1589) -> (35.5361, 3.1589)
  arc A63 (36.0361, 2.6589) -> (35.5361, 3.1589) centre (35.5361, 2.6589) ccw
  point P0 (0, 0)
  point P1 (27.9349, 12.2389)
  point P2 (22.3949, 5.9862)
  point P3 (25.7835, 2.5976)
  point P4 (26.2888, 2.5976)
  point P5 (29.6774, 5.9862)
  dimension "d6" = 7.3
  dimension "d10" = 103
  dimension "d11" = 0.5
extrude "Extrusion1" add sketch "Sketch1" along normal blind 631 contours L81 A57 L80 A47 L51 A46 L50 A45 L49 L66 A55 L63 L57 A53 L56 A52 L2 A1 L54 A50 L1 A0 L0 | A50 L54 A1 L78 A56 L79 | A55 L65 L75 L71 L70 L77 L68 L61 L62 | L74 L44 A40 L43 A39 L42 A38 L41 A37 L40 A36 L39 A35 L38 A34 L37 A33 L36 A32 L35 L72 A55 | A55 L69 L16 A14 L15 A13 L14 A12 L13 A11 L12 A10 L11 A9 L10 A8 L9 A7 L8 A6 L7 L64 | L73 L30 A27 L29 A26 L28 A25 L27 A24 L26 A23 L25 A22 L24 A21 L23 A20 L22 A19 L21 L76 A55 | L82 A58 L83 A37 L41 A38 | A34 L38 A35 L85 A59 L84 | A8 L10 A9 L87 A60 L86 | L88 A61 L89 A11 L13 A12 | L93 A63 L92 A24 L27 A25 | A21 L24 A22 L91 A62 L90
properties part number "aluminum profile"
